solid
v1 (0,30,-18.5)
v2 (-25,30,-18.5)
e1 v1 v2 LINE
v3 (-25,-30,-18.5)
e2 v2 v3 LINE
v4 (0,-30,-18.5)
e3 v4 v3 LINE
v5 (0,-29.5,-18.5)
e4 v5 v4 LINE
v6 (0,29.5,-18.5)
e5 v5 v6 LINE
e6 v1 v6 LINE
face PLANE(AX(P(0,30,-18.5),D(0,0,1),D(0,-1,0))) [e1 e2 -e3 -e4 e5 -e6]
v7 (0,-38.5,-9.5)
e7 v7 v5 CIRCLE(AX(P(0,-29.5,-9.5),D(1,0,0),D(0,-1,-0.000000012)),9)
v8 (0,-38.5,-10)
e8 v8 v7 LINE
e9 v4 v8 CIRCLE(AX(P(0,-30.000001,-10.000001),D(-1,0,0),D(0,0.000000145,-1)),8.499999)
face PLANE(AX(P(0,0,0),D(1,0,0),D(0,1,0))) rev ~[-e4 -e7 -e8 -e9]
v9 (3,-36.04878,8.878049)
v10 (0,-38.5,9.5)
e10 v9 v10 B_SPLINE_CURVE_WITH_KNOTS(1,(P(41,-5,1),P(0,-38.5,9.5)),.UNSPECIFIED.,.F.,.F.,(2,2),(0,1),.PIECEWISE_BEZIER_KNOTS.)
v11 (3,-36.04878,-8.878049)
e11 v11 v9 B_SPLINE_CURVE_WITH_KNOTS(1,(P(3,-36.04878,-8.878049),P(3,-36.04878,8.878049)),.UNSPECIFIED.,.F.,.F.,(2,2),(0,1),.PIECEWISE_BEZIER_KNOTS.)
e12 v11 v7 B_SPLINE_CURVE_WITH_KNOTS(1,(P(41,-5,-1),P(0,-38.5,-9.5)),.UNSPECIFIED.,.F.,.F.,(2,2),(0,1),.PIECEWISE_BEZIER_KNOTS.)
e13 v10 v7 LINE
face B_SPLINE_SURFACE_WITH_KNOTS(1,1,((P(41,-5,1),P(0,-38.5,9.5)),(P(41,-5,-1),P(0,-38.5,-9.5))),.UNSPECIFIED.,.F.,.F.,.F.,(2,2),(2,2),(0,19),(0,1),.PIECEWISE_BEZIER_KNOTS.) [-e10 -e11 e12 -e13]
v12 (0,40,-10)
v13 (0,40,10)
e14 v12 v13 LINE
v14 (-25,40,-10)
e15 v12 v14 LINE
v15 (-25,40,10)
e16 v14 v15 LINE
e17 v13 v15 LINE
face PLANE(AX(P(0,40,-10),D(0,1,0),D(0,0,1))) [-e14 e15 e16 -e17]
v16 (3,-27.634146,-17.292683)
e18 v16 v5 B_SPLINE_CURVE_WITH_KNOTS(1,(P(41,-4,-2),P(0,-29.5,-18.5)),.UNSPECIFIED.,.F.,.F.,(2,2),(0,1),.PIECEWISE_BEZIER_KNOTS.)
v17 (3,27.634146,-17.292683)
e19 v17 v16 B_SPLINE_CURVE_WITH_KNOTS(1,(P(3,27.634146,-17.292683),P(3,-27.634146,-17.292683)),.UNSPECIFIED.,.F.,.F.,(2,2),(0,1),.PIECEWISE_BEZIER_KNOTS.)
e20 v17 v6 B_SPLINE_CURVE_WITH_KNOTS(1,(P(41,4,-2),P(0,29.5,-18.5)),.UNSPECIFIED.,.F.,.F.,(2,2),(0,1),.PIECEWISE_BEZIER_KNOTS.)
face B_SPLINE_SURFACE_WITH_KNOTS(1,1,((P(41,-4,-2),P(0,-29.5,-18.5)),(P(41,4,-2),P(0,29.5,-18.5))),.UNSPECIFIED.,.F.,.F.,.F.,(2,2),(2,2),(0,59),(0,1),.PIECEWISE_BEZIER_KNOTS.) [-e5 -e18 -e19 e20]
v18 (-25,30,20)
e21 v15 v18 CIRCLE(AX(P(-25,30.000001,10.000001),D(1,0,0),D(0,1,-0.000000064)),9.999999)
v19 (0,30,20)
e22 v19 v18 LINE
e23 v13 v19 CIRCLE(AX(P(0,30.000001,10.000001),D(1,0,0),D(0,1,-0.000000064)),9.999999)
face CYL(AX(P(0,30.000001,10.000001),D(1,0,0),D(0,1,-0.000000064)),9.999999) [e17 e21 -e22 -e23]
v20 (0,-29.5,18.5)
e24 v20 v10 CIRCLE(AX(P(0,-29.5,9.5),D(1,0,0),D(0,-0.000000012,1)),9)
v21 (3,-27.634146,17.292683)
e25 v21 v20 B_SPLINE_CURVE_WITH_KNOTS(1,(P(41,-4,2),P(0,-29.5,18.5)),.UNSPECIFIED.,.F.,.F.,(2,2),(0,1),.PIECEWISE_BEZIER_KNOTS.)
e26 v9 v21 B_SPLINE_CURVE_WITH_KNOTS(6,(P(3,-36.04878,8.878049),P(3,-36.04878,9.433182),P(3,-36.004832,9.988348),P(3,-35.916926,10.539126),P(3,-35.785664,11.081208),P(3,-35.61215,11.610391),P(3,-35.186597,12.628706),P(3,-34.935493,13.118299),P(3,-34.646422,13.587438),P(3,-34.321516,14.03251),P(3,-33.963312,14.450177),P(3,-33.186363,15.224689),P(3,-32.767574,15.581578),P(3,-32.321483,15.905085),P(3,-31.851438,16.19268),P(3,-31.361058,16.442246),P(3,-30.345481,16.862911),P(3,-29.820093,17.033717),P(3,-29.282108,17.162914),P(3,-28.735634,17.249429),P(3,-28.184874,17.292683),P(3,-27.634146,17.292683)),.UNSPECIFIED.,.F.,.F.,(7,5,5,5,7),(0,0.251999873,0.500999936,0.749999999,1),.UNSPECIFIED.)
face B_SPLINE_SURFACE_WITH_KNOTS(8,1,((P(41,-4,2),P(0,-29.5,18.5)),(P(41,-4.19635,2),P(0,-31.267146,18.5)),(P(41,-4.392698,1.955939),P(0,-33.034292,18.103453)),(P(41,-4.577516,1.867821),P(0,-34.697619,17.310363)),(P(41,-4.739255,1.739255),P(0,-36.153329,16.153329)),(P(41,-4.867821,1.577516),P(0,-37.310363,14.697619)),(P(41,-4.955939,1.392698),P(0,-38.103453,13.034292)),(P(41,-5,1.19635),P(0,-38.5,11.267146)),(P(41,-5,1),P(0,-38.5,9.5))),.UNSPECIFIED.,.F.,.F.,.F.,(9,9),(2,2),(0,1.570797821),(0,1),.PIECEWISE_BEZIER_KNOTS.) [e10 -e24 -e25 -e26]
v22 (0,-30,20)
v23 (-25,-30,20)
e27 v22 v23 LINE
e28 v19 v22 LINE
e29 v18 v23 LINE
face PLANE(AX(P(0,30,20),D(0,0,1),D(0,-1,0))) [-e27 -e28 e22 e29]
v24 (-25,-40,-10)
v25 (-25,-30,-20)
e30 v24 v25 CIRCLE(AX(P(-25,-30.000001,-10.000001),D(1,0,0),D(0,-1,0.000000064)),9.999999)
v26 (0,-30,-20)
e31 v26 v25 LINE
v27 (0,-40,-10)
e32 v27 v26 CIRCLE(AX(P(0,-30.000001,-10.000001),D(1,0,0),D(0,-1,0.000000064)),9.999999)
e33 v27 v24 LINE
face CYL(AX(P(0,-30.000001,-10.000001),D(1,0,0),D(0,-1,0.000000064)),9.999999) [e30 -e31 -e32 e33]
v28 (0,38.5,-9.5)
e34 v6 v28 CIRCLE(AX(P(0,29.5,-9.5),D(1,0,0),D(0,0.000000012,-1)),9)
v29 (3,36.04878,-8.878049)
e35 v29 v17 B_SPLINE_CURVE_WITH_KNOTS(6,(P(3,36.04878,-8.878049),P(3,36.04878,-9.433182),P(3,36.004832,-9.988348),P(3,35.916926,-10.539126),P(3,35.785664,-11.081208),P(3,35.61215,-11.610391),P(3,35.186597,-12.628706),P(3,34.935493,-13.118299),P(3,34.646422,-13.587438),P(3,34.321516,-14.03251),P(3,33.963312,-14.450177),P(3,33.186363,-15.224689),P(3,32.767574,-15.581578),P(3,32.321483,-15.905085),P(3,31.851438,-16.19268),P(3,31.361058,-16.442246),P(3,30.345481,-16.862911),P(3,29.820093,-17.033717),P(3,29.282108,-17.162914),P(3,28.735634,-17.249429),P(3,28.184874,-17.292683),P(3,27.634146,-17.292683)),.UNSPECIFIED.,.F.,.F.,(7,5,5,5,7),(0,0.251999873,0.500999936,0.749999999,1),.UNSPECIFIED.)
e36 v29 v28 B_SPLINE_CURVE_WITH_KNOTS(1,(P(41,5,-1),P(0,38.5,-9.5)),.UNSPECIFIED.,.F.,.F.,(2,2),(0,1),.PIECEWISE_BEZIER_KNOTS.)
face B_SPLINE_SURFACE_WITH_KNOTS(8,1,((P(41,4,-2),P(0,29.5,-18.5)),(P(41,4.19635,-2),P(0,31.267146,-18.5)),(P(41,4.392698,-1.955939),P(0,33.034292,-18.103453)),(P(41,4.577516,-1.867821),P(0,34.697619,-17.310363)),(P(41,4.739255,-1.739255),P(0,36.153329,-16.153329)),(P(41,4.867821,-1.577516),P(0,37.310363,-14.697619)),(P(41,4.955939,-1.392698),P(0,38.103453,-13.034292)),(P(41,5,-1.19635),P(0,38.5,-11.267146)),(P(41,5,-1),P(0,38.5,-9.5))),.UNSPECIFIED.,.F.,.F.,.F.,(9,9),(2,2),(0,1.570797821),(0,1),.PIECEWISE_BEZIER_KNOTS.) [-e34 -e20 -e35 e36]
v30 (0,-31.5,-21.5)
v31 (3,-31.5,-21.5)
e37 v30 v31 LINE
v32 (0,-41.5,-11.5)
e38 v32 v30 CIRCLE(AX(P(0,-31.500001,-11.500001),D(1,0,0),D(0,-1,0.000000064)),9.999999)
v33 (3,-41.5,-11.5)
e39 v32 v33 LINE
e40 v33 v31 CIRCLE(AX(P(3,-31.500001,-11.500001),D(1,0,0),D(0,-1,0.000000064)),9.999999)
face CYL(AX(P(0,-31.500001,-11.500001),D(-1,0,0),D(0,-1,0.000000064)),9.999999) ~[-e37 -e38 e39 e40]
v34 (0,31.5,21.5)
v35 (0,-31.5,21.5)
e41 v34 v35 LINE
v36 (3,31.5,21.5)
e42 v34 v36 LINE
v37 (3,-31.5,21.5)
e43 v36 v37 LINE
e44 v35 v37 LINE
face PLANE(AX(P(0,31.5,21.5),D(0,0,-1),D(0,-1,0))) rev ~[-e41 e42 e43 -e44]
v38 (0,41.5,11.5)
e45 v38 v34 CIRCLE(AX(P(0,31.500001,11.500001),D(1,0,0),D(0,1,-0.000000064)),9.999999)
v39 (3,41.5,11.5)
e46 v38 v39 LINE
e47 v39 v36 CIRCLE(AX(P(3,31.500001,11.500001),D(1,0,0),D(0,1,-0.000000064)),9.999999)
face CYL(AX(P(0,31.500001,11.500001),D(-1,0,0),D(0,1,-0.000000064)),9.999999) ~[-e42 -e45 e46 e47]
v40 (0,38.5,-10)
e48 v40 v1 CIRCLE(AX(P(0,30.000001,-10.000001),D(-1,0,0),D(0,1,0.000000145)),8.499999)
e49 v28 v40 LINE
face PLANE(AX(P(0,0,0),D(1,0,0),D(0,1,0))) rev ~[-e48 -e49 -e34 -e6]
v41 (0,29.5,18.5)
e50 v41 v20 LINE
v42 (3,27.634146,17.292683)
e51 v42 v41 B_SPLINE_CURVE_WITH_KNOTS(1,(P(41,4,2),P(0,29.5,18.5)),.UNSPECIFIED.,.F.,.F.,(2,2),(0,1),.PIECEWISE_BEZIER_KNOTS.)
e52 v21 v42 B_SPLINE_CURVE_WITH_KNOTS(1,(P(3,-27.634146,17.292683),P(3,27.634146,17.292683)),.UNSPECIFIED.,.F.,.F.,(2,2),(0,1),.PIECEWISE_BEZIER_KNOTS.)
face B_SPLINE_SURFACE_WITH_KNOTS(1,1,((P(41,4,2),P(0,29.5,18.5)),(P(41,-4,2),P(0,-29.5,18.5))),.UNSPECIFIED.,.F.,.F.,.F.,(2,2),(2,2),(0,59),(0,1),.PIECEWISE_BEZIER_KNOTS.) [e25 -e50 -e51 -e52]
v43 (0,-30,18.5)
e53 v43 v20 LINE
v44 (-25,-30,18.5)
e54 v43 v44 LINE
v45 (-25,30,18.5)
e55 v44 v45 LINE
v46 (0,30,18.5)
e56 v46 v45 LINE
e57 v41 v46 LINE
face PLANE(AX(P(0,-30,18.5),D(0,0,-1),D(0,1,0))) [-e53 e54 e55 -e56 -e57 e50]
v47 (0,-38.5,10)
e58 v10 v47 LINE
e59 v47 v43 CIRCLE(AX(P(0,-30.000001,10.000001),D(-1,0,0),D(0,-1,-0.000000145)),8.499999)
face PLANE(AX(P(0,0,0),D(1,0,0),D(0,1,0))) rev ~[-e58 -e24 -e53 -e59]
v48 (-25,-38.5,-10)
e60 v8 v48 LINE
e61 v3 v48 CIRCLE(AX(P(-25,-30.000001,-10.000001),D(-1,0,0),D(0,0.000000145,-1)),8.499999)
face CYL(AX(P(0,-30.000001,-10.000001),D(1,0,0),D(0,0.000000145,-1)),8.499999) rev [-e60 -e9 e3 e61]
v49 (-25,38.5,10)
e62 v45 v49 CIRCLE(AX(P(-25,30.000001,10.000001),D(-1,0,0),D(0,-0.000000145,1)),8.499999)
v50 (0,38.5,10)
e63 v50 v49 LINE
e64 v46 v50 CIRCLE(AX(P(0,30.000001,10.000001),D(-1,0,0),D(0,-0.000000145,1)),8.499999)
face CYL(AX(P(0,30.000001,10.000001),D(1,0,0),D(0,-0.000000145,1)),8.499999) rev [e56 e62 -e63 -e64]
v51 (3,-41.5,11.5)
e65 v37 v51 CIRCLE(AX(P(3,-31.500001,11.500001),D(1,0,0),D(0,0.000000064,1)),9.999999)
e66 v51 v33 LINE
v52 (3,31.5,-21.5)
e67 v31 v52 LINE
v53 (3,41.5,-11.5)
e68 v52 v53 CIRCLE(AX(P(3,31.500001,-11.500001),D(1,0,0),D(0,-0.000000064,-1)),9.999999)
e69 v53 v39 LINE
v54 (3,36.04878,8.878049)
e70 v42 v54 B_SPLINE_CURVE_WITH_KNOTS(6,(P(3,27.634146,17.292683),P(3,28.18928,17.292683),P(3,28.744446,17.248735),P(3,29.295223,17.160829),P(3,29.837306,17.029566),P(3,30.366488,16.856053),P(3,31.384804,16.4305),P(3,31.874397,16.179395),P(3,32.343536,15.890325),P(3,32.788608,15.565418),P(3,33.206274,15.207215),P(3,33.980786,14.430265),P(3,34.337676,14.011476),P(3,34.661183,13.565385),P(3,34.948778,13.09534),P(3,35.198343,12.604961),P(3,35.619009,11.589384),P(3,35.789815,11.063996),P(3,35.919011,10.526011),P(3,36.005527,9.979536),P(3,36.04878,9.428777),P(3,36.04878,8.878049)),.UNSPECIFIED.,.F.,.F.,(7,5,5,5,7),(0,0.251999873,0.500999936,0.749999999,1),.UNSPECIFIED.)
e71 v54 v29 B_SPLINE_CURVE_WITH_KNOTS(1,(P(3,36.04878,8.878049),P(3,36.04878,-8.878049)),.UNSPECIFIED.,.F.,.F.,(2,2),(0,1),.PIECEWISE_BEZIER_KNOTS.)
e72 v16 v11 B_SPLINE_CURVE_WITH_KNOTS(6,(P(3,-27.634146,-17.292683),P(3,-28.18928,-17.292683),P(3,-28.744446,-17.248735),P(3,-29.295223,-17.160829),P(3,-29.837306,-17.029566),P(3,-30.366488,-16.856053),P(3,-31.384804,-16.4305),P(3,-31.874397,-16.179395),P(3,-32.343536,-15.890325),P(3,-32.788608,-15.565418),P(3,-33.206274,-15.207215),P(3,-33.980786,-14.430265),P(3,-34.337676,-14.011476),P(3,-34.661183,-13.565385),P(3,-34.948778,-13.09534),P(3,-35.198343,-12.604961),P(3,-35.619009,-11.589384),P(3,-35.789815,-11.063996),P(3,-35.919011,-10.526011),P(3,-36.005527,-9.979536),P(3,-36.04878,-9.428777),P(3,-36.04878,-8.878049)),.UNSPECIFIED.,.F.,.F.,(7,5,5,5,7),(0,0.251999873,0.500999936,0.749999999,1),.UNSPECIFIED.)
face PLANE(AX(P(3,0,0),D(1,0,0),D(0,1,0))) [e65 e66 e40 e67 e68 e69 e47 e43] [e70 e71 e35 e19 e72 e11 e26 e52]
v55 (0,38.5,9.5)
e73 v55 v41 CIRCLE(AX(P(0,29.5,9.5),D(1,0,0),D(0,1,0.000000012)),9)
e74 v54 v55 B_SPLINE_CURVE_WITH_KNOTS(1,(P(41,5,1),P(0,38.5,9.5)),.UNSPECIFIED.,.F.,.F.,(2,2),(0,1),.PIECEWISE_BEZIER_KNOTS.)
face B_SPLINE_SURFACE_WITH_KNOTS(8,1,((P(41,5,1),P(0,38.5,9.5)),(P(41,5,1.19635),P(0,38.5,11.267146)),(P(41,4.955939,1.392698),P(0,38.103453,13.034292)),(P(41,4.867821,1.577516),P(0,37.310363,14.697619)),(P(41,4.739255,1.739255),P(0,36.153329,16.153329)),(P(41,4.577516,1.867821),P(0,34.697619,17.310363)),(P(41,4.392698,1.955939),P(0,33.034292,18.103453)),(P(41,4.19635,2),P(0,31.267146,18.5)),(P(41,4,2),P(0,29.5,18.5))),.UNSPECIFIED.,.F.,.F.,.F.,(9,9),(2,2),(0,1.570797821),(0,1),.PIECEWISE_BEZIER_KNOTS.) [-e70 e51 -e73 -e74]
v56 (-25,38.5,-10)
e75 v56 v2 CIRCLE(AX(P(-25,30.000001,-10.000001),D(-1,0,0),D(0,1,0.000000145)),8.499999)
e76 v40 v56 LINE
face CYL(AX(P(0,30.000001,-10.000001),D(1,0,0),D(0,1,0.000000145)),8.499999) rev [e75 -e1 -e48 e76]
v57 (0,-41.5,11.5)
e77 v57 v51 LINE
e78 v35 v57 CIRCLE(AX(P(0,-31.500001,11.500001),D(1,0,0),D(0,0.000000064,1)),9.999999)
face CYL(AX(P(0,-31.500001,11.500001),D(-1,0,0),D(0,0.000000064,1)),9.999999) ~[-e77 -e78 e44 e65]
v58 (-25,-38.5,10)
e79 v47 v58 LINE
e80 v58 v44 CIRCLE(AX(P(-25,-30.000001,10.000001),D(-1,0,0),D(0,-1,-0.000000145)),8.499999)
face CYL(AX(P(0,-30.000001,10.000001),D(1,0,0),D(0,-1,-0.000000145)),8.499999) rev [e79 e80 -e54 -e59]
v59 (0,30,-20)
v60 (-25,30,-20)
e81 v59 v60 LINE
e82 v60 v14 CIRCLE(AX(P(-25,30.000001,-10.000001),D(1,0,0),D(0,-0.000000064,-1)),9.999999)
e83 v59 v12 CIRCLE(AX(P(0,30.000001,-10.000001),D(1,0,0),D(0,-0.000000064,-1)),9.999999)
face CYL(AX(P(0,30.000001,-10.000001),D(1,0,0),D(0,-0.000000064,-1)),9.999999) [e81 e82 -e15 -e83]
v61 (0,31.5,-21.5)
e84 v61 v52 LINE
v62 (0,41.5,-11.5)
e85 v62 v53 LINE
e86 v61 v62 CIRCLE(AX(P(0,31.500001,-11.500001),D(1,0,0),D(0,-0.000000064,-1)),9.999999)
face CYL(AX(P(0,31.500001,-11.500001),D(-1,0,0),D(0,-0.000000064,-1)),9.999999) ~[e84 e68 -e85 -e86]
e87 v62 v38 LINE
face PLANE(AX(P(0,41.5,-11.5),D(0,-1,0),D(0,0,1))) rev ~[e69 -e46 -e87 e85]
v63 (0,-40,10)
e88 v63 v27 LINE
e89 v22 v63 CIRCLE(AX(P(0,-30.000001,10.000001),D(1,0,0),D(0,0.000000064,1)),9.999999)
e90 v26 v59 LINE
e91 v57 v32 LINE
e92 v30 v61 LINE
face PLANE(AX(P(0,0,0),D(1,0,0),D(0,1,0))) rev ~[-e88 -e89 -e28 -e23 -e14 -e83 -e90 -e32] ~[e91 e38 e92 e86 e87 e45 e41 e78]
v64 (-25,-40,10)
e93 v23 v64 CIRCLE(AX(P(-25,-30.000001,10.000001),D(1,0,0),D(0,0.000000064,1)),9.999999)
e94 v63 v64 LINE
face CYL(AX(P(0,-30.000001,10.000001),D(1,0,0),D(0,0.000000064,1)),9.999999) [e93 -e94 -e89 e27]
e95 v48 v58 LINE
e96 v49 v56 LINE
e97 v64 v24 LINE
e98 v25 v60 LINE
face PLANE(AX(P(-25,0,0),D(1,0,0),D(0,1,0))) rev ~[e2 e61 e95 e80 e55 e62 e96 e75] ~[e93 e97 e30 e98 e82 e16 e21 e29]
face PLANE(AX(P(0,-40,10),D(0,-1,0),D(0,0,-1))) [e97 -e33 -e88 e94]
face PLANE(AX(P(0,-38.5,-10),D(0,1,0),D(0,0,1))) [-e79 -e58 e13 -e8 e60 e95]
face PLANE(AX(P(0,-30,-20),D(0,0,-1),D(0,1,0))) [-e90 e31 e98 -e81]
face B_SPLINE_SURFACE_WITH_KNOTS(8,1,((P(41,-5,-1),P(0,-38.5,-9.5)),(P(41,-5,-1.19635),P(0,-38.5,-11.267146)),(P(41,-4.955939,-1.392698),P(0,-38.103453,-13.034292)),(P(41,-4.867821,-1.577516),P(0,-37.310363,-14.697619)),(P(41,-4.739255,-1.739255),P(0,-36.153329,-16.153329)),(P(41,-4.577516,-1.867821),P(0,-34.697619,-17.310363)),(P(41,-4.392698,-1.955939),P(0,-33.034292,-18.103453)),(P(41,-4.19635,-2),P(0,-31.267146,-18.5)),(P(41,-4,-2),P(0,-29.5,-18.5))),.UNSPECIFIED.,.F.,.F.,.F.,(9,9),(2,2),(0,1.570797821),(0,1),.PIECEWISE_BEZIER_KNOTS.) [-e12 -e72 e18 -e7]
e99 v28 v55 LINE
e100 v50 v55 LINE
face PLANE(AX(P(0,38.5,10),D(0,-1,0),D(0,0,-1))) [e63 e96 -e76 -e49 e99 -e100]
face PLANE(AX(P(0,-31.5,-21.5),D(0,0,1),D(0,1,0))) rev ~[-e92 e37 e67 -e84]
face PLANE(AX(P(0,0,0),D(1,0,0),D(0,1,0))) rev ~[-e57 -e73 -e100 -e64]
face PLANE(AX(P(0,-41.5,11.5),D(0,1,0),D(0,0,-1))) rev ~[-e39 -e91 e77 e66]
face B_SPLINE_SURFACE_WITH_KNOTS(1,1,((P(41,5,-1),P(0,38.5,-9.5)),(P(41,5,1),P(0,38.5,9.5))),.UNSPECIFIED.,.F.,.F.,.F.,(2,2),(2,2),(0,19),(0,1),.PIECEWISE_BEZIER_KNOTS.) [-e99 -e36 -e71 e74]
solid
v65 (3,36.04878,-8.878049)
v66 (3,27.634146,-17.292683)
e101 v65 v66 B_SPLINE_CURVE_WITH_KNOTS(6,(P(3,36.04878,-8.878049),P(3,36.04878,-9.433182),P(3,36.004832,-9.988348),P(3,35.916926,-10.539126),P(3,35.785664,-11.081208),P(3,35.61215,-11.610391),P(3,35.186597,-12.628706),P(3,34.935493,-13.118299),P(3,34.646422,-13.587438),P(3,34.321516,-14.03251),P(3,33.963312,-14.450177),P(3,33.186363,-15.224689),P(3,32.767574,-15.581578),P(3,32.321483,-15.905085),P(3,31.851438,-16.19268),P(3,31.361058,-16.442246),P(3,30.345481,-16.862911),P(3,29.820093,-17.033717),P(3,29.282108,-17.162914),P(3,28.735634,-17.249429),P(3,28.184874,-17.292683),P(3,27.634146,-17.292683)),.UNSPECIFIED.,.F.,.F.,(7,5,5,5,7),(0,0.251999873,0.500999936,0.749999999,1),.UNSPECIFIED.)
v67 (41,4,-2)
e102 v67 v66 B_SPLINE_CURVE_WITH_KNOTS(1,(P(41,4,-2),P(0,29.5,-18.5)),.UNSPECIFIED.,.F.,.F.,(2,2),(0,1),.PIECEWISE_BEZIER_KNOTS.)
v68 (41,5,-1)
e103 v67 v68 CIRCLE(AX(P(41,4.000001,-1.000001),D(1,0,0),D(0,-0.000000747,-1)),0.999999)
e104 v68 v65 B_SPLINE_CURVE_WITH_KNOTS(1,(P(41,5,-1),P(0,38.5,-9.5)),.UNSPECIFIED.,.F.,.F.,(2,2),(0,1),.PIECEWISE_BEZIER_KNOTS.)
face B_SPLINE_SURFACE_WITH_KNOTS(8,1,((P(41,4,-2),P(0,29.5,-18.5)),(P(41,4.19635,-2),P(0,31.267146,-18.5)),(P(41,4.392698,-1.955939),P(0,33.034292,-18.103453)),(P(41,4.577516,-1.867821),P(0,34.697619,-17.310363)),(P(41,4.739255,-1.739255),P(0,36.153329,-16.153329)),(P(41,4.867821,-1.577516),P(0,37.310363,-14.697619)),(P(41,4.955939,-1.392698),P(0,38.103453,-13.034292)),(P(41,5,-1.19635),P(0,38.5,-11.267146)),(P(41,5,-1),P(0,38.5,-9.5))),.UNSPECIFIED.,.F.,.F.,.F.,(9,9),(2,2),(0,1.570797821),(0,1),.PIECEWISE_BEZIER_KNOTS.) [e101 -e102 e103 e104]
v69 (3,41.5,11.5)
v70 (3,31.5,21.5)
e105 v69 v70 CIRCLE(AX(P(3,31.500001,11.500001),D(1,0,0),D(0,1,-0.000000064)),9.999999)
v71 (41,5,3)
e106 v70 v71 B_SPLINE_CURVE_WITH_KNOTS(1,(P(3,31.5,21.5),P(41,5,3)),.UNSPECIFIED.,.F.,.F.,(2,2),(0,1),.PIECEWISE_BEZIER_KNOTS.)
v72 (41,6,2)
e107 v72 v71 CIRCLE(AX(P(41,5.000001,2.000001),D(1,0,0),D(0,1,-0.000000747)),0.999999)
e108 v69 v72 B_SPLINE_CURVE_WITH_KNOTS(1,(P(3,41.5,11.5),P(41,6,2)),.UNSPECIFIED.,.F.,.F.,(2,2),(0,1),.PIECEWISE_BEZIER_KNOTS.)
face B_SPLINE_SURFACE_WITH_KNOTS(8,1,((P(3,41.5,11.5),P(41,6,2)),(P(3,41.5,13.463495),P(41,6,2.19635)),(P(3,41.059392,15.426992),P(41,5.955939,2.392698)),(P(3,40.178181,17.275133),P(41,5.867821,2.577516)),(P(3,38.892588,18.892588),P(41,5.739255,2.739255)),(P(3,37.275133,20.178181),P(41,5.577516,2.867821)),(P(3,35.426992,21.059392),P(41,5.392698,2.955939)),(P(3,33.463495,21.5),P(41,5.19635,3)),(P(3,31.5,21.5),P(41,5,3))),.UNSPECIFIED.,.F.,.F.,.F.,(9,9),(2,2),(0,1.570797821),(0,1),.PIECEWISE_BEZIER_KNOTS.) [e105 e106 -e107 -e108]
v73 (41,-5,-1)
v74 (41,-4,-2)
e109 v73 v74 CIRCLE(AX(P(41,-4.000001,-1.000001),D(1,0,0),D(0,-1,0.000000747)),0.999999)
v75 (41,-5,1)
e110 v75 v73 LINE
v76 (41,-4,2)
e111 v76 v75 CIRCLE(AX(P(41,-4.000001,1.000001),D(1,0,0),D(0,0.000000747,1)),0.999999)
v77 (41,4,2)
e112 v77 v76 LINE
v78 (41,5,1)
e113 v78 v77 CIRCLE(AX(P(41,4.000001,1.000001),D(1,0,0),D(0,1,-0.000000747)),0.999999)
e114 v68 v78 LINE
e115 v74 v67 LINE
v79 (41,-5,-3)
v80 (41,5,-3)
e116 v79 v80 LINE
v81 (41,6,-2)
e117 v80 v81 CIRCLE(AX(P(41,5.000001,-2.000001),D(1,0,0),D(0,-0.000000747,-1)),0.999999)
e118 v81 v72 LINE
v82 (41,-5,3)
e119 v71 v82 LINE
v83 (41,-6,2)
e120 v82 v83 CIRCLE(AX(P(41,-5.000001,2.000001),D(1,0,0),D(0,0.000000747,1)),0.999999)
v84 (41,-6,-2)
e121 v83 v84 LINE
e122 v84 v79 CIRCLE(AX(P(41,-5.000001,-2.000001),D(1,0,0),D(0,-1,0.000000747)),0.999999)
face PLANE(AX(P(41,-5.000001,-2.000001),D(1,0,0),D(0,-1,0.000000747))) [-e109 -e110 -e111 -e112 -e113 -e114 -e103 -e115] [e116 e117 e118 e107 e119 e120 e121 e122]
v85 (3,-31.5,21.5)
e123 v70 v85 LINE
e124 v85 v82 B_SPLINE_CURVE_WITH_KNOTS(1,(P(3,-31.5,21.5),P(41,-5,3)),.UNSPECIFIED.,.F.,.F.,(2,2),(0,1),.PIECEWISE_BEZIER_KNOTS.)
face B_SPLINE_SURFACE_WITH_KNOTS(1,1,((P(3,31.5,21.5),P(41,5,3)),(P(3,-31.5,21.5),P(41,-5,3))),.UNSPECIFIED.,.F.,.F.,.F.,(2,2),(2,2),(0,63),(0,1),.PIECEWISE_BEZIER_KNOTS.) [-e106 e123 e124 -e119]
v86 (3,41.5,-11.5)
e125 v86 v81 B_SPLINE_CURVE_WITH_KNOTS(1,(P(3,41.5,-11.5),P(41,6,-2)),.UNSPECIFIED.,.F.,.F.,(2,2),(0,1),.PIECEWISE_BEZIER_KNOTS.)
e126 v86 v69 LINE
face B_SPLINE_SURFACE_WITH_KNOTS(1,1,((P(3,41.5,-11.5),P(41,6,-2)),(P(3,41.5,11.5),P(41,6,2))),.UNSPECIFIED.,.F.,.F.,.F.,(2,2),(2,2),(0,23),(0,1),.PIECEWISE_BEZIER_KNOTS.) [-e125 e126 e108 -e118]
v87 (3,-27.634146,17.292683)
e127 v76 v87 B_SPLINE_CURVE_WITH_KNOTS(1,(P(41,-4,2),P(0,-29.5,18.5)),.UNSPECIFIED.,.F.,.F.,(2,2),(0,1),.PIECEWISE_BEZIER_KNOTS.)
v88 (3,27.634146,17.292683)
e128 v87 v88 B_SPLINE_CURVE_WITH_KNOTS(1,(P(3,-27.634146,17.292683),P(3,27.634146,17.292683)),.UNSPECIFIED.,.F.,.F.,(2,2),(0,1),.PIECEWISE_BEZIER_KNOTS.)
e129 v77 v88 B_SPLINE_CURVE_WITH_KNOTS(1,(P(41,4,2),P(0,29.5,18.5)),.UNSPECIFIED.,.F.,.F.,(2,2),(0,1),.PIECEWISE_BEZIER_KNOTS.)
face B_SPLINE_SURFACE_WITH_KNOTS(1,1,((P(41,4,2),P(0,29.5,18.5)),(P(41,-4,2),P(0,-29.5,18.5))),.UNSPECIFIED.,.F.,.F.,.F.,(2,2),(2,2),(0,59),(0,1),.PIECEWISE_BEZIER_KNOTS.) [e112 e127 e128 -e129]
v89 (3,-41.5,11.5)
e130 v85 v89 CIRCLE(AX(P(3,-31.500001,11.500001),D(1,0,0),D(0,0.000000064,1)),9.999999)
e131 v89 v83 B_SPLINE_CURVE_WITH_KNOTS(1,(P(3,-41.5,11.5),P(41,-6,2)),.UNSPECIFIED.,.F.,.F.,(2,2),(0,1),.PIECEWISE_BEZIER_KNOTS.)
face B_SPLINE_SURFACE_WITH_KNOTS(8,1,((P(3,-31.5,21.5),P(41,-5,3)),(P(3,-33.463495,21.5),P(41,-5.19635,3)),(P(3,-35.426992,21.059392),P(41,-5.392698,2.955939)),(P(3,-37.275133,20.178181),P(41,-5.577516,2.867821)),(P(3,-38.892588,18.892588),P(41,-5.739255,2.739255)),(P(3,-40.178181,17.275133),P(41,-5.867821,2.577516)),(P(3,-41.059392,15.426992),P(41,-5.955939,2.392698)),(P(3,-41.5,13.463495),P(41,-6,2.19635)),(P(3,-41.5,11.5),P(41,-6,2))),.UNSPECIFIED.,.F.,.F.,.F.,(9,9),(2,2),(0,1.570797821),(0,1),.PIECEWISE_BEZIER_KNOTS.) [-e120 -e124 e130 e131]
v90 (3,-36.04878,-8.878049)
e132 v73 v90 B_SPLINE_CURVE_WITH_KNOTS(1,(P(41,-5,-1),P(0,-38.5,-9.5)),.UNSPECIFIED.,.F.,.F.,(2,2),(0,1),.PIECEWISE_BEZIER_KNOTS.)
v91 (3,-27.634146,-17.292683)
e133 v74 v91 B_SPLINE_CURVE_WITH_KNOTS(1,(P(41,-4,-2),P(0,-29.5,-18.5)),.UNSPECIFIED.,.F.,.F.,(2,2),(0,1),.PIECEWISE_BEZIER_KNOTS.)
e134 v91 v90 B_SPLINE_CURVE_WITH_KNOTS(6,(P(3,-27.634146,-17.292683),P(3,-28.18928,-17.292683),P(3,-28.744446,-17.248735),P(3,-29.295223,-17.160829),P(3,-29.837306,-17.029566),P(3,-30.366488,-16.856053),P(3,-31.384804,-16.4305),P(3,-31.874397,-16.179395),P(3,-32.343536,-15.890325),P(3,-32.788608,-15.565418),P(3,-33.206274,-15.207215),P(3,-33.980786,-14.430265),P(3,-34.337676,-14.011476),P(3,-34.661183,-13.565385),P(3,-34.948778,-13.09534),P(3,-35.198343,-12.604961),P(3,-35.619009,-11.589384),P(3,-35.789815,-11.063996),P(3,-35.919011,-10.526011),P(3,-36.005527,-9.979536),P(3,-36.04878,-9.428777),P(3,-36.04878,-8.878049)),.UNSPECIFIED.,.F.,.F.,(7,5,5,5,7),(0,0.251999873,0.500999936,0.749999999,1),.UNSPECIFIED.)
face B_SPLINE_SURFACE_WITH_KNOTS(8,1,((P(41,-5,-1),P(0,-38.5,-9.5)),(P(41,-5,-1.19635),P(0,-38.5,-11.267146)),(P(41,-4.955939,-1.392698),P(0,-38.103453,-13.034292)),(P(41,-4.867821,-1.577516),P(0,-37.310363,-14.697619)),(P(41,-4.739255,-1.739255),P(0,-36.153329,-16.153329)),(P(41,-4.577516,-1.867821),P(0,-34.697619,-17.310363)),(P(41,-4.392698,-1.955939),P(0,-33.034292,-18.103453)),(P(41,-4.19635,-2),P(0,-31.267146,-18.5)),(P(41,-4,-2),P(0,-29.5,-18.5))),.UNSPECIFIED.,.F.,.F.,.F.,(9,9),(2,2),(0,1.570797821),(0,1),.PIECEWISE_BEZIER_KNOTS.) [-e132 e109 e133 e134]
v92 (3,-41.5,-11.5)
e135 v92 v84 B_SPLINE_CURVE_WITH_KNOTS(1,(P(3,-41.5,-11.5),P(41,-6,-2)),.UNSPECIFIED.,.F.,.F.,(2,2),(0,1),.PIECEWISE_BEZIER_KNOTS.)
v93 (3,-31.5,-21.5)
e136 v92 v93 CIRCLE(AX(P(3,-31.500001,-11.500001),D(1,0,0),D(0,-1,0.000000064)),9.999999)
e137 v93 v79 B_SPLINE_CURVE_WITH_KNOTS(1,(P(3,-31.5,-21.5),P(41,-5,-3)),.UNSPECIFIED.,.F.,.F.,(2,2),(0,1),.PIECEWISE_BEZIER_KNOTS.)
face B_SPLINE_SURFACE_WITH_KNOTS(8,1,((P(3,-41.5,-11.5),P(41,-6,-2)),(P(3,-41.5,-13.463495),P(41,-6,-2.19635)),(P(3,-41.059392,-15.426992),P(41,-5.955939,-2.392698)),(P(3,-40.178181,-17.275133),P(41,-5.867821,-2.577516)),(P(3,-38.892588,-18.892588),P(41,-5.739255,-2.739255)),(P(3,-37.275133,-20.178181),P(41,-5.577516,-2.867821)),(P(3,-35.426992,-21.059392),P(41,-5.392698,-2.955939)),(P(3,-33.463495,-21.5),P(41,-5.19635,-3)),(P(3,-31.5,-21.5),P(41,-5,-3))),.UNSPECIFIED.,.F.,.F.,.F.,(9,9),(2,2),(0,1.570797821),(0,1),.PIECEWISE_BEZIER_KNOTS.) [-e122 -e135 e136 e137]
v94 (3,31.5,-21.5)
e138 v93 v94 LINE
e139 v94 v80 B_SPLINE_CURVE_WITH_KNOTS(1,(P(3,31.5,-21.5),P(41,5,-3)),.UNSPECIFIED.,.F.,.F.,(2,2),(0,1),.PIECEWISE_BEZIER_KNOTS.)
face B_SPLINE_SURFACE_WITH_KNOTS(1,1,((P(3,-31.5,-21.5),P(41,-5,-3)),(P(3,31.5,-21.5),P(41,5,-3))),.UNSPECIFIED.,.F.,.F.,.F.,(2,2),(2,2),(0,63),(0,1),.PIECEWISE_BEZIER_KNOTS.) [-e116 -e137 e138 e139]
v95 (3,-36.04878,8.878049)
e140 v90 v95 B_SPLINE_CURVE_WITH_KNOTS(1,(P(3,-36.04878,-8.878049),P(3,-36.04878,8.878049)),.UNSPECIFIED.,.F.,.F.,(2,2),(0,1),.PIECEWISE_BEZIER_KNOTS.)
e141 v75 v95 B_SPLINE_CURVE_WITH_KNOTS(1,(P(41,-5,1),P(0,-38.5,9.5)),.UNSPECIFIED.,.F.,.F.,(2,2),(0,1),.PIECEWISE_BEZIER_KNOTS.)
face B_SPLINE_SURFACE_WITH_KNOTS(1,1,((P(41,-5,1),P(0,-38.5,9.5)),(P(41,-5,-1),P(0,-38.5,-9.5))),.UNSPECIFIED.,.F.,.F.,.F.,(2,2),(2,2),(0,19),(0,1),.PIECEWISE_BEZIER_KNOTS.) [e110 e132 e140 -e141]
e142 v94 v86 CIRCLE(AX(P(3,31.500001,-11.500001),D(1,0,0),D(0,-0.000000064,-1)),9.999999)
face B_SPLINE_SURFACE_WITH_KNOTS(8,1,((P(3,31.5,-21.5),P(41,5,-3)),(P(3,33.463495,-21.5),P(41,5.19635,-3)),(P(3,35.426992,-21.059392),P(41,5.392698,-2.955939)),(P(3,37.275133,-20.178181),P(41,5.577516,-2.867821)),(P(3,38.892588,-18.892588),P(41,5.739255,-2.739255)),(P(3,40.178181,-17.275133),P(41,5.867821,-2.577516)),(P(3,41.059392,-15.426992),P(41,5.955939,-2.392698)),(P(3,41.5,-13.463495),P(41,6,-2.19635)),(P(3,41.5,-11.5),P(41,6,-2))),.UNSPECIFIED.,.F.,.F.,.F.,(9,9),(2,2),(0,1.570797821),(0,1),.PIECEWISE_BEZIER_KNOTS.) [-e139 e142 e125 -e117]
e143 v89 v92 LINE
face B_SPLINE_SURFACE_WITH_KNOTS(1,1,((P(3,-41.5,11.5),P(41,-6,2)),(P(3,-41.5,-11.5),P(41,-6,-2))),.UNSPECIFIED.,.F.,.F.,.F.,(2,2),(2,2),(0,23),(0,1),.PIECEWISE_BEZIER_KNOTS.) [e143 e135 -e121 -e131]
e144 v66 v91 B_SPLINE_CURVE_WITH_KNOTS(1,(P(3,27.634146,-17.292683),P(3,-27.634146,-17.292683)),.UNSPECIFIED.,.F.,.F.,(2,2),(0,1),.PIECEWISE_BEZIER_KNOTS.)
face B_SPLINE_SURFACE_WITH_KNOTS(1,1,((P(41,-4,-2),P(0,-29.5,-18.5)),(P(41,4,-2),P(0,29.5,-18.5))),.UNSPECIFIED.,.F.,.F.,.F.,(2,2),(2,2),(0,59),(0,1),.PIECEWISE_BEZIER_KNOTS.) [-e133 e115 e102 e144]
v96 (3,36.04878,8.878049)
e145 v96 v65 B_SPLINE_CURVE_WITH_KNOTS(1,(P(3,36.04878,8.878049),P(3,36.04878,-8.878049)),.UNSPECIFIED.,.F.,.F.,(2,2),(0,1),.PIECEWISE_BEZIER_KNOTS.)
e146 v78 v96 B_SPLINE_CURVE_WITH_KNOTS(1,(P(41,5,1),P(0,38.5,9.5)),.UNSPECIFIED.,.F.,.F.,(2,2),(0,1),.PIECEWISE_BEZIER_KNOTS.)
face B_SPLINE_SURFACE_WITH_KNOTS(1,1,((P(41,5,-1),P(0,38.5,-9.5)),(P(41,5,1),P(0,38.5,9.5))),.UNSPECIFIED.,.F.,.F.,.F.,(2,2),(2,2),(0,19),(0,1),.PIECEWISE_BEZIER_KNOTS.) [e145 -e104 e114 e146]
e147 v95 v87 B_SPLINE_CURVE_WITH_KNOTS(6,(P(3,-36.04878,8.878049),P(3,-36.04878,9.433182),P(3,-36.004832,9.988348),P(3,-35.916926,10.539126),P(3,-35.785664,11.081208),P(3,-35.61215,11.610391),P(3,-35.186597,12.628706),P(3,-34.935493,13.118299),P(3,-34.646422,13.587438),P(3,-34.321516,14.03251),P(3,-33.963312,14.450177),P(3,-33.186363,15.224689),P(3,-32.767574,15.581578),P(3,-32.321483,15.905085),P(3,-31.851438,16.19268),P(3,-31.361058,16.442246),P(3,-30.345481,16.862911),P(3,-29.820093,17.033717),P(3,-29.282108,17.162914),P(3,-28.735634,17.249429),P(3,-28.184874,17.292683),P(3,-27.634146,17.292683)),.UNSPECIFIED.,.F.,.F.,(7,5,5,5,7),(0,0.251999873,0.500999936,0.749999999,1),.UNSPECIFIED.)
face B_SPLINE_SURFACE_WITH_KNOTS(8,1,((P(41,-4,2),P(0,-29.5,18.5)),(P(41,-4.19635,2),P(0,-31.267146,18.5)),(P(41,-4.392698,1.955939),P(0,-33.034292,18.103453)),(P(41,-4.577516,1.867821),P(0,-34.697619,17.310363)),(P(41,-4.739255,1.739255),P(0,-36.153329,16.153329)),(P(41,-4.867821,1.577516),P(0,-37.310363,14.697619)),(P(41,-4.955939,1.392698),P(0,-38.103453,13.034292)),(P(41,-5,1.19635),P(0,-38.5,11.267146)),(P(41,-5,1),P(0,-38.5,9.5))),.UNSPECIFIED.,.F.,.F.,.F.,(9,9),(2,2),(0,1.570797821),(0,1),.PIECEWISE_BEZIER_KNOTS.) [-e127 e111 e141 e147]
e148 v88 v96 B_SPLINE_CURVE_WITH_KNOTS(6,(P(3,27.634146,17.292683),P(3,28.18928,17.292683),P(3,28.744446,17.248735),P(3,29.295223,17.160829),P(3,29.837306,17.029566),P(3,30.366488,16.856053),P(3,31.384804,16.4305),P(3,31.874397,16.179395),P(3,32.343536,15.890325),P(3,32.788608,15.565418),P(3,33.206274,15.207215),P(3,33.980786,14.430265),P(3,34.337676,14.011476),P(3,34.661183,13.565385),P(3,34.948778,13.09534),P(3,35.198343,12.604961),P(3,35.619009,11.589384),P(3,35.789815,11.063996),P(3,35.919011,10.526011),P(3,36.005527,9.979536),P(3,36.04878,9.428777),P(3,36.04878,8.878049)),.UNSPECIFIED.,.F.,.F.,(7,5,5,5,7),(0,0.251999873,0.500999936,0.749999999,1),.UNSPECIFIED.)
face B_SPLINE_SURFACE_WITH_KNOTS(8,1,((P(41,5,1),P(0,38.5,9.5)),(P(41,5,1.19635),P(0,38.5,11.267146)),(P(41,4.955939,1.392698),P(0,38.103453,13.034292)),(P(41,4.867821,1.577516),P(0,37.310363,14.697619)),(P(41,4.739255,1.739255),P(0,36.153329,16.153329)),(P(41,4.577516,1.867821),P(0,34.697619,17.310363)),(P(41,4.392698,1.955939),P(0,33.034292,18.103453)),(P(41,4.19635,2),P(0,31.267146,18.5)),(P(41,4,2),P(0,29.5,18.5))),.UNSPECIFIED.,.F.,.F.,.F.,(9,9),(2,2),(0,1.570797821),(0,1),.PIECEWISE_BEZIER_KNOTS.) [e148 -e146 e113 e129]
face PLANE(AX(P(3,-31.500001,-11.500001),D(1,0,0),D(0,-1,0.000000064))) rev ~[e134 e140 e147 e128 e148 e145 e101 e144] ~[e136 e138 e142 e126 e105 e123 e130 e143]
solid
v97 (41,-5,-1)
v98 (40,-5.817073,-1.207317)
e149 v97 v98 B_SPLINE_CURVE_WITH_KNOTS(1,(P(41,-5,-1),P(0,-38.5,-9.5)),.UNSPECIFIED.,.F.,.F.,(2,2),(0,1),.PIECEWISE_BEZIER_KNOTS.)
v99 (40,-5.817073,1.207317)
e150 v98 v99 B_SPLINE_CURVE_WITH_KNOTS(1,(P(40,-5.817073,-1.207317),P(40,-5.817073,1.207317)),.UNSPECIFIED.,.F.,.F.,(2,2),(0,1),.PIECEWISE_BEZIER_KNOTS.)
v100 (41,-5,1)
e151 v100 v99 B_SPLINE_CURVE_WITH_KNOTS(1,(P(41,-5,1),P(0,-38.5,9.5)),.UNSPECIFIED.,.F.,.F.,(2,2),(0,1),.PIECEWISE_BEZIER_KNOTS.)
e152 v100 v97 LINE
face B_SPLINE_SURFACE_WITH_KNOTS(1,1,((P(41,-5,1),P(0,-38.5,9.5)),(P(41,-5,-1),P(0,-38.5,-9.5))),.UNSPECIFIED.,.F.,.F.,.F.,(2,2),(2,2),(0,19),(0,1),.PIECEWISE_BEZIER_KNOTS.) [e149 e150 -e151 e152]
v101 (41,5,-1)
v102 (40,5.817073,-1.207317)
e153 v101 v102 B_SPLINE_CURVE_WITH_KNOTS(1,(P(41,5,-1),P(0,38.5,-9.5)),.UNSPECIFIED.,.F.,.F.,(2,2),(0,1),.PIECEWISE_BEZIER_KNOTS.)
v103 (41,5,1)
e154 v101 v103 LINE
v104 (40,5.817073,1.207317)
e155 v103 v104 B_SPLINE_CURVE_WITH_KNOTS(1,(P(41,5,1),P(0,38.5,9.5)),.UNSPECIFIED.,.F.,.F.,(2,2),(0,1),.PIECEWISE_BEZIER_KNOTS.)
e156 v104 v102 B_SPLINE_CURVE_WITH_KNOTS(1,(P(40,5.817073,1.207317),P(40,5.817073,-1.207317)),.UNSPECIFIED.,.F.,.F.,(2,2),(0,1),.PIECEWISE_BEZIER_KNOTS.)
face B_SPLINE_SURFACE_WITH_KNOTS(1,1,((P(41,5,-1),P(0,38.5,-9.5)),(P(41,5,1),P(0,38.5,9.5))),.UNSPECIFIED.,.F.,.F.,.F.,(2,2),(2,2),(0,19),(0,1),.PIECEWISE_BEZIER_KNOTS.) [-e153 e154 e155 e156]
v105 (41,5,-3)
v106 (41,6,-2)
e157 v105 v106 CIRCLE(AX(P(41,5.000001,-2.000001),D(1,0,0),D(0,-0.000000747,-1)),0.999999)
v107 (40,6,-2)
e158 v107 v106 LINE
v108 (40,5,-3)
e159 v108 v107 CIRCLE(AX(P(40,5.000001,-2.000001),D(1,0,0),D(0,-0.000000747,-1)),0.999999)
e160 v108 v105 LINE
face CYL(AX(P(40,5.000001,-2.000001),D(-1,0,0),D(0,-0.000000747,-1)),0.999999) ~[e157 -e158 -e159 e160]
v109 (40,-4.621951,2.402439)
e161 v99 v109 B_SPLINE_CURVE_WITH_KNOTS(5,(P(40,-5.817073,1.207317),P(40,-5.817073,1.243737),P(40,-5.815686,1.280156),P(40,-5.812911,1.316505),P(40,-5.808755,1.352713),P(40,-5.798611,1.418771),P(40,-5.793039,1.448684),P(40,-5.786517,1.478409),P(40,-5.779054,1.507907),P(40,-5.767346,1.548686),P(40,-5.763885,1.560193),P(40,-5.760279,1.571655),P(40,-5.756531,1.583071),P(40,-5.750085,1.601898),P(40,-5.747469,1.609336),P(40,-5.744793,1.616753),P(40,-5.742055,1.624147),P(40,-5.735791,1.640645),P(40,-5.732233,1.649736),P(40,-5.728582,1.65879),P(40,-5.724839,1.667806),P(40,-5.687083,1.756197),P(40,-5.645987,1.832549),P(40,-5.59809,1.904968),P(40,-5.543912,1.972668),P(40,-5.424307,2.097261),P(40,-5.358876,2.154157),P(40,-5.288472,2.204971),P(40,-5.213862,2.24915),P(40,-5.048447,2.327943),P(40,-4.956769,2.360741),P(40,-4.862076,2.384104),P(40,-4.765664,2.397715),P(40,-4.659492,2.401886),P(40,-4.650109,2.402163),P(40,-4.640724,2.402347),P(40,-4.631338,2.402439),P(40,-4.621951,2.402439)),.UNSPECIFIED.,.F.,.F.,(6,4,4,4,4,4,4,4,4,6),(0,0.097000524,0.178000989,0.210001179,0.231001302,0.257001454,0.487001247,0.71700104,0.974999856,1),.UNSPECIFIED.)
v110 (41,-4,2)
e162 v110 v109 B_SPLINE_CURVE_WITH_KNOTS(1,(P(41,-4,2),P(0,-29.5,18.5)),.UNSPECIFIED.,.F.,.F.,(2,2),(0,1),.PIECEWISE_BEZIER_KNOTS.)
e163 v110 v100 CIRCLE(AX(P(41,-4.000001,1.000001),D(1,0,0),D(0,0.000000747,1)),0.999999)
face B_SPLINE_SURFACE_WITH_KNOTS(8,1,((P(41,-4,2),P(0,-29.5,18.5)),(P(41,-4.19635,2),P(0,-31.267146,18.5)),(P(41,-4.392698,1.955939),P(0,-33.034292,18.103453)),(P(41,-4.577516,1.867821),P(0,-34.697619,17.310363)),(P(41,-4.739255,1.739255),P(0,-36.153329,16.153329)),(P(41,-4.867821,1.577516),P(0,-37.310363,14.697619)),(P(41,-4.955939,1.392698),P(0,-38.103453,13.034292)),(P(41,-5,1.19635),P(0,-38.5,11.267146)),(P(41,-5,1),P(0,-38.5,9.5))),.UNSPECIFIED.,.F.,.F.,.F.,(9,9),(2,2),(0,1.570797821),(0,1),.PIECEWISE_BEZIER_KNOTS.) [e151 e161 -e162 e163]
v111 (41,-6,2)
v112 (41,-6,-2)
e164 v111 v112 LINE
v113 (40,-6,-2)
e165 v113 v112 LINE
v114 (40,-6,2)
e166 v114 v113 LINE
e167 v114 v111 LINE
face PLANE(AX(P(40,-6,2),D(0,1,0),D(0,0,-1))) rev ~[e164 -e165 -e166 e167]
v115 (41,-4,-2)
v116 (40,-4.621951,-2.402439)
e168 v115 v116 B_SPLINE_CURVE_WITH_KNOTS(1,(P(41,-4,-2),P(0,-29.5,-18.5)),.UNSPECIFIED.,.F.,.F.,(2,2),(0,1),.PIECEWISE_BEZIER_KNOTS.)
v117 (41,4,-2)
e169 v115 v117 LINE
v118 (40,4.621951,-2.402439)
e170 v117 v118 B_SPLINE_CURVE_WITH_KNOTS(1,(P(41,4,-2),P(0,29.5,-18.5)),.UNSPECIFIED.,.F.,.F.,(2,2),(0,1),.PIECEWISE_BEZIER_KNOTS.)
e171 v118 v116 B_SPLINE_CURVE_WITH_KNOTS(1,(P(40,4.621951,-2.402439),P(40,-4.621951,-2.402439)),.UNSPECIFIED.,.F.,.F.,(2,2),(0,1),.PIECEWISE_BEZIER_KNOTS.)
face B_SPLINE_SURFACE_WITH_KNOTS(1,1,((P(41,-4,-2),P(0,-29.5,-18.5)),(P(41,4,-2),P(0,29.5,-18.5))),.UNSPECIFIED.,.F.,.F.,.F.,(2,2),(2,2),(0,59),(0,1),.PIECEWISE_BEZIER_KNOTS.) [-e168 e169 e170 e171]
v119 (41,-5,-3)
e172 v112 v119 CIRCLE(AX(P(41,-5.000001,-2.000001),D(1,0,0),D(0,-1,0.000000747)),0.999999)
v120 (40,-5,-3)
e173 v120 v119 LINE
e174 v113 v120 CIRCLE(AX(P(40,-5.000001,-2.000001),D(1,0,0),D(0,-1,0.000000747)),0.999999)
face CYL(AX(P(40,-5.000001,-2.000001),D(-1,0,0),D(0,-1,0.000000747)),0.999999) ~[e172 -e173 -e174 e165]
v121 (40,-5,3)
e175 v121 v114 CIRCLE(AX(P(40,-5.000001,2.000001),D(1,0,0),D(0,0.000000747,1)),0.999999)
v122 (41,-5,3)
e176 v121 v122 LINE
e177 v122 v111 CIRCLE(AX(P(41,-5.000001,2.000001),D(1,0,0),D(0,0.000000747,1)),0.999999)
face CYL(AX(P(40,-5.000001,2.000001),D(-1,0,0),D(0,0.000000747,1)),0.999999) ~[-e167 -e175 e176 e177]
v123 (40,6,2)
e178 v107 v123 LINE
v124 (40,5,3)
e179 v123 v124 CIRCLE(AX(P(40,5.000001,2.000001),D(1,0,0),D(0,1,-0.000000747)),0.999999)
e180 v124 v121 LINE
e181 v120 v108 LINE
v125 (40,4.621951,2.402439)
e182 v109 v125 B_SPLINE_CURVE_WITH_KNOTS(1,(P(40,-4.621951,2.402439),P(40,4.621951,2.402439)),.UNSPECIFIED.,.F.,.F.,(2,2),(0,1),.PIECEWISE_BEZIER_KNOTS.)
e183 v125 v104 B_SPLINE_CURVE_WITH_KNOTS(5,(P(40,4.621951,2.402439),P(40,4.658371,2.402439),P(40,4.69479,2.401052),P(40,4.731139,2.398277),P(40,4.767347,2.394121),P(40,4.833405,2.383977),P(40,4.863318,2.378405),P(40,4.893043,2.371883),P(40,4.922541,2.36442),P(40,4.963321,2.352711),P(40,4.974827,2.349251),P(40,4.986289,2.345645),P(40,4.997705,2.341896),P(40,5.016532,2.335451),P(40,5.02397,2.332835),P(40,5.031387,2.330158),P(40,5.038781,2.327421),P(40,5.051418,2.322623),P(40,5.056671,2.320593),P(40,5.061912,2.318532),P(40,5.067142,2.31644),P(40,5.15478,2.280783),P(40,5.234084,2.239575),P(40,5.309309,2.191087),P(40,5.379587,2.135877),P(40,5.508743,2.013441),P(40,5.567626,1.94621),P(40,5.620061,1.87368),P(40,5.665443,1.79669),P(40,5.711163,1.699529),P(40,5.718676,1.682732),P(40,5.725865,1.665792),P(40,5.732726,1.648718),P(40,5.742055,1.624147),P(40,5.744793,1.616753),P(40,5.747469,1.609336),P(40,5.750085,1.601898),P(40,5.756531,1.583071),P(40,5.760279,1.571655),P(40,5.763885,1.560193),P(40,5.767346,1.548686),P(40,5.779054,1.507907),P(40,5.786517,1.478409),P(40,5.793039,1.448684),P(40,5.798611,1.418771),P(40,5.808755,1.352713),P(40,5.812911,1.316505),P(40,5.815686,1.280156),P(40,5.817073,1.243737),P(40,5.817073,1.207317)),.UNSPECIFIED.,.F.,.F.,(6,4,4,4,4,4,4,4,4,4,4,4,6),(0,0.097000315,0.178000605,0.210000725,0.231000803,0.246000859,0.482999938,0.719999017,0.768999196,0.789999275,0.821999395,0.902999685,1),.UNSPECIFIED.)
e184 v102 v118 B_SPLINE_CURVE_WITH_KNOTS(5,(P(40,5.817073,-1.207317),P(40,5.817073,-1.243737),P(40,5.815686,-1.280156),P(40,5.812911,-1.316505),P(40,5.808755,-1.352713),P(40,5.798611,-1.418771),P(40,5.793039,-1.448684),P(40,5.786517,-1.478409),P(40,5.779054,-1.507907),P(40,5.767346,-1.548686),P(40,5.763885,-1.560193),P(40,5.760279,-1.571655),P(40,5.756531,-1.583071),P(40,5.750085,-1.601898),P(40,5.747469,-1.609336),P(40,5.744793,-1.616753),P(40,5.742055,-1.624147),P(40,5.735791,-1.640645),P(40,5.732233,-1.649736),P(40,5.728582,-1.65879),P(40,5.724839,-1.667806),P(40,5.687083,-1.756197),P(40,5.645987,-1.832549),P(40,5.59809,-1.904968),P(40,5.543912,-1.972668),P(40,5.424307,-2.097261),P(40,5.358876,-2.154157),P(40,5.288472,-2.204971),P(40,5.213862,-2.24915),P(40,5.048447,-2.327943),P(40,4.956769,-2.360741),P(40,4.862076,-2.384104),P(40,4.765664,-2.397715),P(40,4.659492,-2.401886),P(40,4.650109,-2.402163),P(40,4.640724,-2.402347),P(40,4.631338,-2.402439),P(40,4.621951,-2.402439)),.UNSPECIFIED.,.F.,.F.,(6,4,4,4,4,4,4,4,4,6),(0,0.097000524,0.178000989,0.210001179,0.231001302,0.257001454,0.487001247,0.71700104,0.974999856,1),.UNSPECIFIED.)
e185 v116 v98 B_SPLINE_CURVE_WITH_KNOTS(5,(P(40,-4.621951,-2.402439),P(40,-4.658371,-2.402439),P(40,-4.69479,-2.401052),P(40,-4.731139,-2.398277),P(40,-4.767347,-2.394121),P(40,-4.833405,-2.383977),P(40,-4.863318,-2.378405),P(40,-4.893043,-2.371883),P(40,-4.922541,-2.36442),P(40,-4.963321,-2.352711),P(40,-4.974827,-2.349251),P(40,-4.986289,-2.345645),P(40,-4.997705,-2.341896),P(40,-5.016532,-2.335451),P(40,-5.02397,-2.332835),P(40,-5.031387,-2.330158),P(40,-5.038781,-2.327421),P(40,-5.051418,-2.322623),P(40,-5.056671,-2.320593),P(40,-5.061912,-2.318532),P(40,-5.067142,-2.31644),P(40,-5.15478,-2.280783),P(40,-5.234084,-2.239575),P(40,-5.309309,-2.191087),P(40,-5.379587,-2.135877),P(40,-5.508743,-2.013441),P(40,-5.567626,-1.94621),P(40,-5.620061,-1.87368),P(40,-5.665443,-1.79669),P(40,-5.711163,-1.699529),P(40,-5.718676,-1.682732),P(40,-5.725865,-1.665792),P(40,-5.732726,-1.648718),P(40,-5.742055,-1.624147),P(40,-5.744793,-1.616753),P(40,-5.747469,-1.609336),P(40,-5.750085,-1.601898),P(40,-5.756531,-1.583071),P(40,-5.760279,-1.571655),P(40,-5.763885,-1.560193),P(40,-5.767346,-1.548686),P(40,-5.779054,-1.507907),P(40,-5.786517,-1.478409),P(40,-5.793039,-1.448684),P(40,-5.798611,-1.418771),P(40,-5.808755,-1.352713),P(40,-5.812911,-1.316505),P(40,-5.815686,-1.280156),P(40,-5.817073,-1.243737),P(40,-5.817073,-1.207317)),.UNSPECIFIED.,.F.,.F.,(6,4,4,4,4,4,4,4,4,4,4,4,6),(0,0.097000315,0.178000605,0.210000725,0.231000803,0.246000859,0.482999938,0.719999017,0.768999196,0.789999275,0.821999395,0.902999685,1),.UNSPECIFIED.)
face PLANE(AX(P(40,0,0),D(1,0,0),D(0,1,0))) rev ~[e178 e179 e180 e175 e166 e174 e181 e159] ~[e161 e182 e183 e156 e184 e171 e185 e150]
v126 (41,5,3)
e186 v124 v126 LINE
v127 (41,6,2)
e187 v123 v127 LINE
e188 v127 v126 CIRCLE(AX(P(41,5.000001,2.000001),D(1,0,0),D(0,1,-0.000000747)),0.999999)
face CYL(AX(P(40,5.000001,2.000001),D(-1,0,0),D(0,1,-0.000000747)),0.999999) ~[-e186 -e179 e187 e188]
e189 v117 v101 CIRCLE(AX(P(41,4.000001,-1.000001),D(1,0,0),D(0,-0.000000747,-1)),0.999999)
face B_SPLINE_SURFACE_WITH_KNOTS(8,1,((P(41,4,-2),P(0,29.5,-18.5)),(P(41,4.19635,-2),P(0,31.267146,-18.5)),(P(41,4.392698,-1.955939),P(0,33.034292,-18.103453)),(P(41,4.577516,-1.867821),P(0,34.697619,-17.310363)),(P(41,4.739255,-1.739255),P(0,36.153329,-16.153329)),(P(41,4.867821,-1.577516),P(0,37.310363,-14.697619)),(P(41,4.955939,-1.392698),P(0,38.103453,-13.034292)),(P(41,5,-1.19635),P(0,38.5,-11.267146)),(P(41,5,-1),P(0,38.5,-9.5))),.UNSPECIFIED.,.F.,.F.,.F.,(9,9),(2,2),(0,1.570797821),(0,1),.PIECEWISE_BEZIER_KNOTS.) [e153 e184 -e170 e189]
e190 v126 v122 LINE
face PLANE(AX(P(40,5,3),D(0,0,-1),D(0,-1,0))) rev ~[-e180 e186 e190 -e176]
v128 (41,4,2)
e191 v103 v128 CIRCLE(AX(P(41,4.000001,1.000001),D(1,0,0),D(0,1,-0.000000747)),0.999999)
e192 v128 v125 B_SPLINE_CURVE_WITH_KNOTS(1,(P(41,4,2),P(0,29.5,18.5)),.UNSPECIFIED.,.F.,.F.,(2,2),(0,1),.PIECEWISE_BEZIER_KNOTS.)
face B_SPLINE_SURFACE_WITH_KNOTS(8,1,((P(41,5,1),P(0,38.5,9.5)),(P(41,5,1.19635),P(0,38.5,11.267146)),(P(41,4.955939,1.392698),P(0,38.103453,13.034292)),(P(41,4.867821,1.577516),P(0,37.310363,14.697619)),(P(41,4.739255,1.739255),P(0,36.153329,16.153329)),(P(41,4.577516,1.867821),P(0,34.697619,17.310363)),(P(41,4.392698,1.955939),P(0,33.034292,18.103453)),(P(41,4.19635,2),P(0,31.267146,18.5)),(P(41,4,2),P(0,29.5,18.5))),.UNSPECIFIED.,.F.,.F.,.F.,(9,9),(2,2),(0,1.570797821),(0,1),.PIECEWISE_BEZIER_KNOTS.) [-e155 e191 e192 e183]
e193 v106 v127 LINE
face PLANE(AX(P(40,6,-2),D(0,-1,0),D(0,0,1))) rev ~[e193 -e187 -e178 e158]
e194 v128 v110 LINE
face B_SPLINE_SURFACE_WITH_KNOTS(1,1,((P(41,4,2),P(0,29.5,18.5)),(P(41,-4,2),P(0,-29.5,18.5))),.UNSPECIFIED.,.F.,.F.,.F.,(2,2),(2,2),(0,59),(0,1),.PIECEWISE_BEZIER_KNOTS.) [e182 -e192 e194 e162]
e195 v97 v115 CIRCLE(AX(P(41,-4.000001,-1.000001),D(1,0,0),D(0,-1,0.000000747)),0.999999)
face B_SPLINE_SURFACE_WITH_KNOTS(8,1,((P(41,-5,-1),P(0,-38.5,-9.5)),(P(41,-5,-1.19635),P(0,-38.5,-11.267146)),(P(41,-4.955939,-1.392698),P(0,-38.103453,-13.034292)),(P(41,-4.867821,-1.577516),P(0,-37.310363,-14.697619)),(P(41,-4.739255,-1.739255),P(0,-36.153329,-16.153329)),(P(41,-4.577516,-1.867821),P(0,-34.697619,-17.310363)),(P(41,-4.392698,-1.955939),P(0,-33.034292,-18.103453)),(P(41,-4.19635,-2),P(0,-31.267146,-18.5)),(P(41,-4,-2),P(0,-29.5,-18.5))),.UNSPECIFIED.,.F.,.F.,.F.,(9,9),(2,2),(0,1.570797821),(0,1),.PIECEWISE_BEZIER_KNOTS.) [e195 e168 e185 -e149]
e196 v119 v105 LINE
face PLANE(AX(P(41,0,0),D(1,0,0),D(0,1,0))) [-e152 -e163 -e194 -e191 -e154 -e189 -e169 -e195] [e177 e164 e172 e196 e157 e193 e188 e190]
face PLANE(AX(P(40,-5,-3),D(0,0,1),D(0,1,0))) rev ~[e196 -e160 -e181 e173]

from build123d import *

# Parameters (mm, degrees)
F1_DEPTH = 25
F4_DEPTH = 3
F6_DEPTH = 1


with BuildPart() as f1:
    # F0 (on Right) → F1 (new body)
    with BuildSketch(Plane.YZ):
        with BuildLine():
            Line((30, 20), (-30, 20))
            ThreePointArc((-30, 20), (-37.071068, 17.071068), (-40, 10))
            Line((-40, 10), (-40, -10))
            ThreePointArc((-40, -10), (-37.071068, -17.071068), (-30, -20))
            Line((-30, -20), (30, -20))
            ThreePointArc((30, -20), (37.071068, -17.071068), (40, -10))
            Line((40, -10), (40, 10))
            ThreePointArc((40, 10), (37.071068, 17.071068), (30, 20))
        make_face()
        with BuildLine():
            ThreePointArc((30, 18.5), (36.010408, 16.010408), (38.5, 10))
            Line((38.5, 10), (38.5, -10))
            ThreePointArc((38.5, -10), (36.010408, -16.010408), (30, -18.5))
            Line((30, -18.5), (-30, -18.5))
            ThreePointArc((-30, -18.5), (-36.010408, -16.010408), (-38.5, -10))
            Line((-38.5, -10), (-38.5, 10))
            ThreePointArc((-38.5, 10), (-36.010408, 16.010408), (-30, 18.5))
            Line((-30, 18.5), (30, 18.5))
        make_face(mode=Mode.SUBTRACT)
    extrude(amount=-F1_DEPTH)

    # F3 (on Right) → F4 (join)
    with BuildSketch(Plane.YZ):
        with BuildLine():
            ThreePointArc((-41.5, -11.5), (-38.571068, -18.571068), (-31.5, -21.5))
            Line((-31.5, -21.5), (31.5, -21.5))
            ThreePointArc((31.5, -21.5), (38.571068, -18.571068), (41.5, -11.5))
            Line((41.5, -11.5), (41.5, 11.5))
            ThreePointArc((41.5, 11.5), (38.571068, 18.571068), (31.5, 21.5))
            Line((31.5, 21.5), (-31.5, 21.5))
            ThreePointArc((-31.5, 21.5), (-38.571068, 18.571068), (-41.5, 11.5))
            Line((-41.5, 11.5), (-41.5, -11.5))
        make_face()
    extrude(amount=F4_DEPTH)


with BuildPart() as f6:
    # F5 (on offset) → F6 (new body)
    with BuildSketch(Plane.YZ.offset(40)):
        with BuildLine():
            Line((-5, -3), (5, -3))
            ThreePointArc((5, -3), (5.707107, -2.707107), (6, -2))
            Line((6, -2), (6, 2))
            ThreePointArc((6, 2), (5.707107, 2.707107), (5, 3))
            Line((5, 3), (-5, 3))
            ThreePointArc((-5, 3), (-5.707107, 2.707107), (-6, 2))
            Line((-6, 2), (-6, -2))
            ThreePointArc((-6, -2), (-5.707107, -2.707107), (-5, -3))
        make_face()
    extrude(amount=F6_DEPTH)


with BuildPart() as f7:
    # F4_face (on face) → F7 section 0
    with BuildSketch(Plane.YZ.offset(3)):
        with BuildLine():
            ThreePointArc((-41.5, -11.5), (-38.571068, -18.571068), (-31.5, -21.5))
            Line((-31.5, -21.5), (31.5, -21.5))
            ThreePointArc((31.5, -21.5), (38.571068, -18.571068), (41.5, -11.5))
            Line((41.5, -11.5), (41.5, 11.5))
            ThreePointArc((41.5, 11.5), (38.571068, 18.571068), (31.5, 21.5))
            Line((31.5, 21.5), (-31.5, 21.5))
            ThreePointArc((-31.5, 21.5), (-38.571068, 18.571068), (-41.5, 11.5))
            Line((-41.5, 11.5), (-41.5, -11.5))
        make_face()
    # F6_face (on face) → F7 section 1
    with BuildSketch(Plane.YZ.offset(41)):
        with BuildLine():
            Line((-5, -3), (5, -3))
            ThreePointArc((5, -3), (5.707107, -2.707107), (6, -2))
            Line((6, -2), (6, 2))
            ThreePointArc((6, 2), (5.707107, 2.707107), (5, 3))
            Line((5, 3), (-5, 3))
            ThreePointArc((-5, 3), (-5.707107, 2.707107), (-6, 2))
            Line((-6, 2), (-6, -2))
            ThreePointArc((-6, -2), (-5.707107, -2.707107), (-5, -3))
        make_face()
    loft()


with BuildPart() as f10_tool:
    # F8 (on face) → F10 section 0
    with BuildSketch(Plane.YZ.offset(41)):
        with BuildLine():
            Line((-4, -2), (4, -2))
            ThreePointArc((4, -2), (4.707107, -1.707107), (5, -1))
            Line((5, -1), (5, 1))
            ThreePointArc((5, 1), (4.707107, 1.707107), (4, 2))
            Line((4, 2), (-4, 2))
            ThreePointArc((-4, 2), (-4.707107, 1.707107), (-5, 1))
            Line((-5, 1), (-5, -1))
            ThreePointArc((-5, -1), (-4.707107, -1.707107), (-4, -2))
        make_face()
    # F9 (on Right) → F10 section 1
    with BuildSketch(Plane.YZ):
        with BuildLine():
            ThreePointArc((-38.5, -9.5), (-35.863961, -15.863961), (-29.5, -18.5))
            Line((-29.5, -18.5), (29.5, -18.5))
            ThreePointArc((29.5, -18.5), (35.863961, -15.863961), (38.5, -9.5))
            Line((38.5, -9.5), (38.5, 9.5))
            ThreePointArc((38.5, 9.5), (35.863961, 15.863961), (29.5, 18.5))
            Line((29.5, 18.5), (-29.5, 18.5))
            ThreePointArc((-29.5, 18.5), (-35.863961, 15.863961), (-38.5, 9.5))
            Line((-38.5, 9.5), (-38.5, -9.5))
        make_face()
    loft()


with BuildPart() as f1_1:
    add(f1.part)

    # F10: cut by f10_tool
    add(f10_tool.part, mode=Mode.SUBTRACT)


with BuildPart() as f6_1:
    add(f6.part)

    # F10: cut by f10_tool
    add(f10_tool.part, mode=Mode.SUBTRACT)


with BuildPart() as f7_1:
    add(f7.part)

    # F10: cut by f10_tool
    add(f10_tool.part, mode=Mode.SUBTRACT)


solid = Compound([f1_1.part, f6_1.part, f7_1.part])
